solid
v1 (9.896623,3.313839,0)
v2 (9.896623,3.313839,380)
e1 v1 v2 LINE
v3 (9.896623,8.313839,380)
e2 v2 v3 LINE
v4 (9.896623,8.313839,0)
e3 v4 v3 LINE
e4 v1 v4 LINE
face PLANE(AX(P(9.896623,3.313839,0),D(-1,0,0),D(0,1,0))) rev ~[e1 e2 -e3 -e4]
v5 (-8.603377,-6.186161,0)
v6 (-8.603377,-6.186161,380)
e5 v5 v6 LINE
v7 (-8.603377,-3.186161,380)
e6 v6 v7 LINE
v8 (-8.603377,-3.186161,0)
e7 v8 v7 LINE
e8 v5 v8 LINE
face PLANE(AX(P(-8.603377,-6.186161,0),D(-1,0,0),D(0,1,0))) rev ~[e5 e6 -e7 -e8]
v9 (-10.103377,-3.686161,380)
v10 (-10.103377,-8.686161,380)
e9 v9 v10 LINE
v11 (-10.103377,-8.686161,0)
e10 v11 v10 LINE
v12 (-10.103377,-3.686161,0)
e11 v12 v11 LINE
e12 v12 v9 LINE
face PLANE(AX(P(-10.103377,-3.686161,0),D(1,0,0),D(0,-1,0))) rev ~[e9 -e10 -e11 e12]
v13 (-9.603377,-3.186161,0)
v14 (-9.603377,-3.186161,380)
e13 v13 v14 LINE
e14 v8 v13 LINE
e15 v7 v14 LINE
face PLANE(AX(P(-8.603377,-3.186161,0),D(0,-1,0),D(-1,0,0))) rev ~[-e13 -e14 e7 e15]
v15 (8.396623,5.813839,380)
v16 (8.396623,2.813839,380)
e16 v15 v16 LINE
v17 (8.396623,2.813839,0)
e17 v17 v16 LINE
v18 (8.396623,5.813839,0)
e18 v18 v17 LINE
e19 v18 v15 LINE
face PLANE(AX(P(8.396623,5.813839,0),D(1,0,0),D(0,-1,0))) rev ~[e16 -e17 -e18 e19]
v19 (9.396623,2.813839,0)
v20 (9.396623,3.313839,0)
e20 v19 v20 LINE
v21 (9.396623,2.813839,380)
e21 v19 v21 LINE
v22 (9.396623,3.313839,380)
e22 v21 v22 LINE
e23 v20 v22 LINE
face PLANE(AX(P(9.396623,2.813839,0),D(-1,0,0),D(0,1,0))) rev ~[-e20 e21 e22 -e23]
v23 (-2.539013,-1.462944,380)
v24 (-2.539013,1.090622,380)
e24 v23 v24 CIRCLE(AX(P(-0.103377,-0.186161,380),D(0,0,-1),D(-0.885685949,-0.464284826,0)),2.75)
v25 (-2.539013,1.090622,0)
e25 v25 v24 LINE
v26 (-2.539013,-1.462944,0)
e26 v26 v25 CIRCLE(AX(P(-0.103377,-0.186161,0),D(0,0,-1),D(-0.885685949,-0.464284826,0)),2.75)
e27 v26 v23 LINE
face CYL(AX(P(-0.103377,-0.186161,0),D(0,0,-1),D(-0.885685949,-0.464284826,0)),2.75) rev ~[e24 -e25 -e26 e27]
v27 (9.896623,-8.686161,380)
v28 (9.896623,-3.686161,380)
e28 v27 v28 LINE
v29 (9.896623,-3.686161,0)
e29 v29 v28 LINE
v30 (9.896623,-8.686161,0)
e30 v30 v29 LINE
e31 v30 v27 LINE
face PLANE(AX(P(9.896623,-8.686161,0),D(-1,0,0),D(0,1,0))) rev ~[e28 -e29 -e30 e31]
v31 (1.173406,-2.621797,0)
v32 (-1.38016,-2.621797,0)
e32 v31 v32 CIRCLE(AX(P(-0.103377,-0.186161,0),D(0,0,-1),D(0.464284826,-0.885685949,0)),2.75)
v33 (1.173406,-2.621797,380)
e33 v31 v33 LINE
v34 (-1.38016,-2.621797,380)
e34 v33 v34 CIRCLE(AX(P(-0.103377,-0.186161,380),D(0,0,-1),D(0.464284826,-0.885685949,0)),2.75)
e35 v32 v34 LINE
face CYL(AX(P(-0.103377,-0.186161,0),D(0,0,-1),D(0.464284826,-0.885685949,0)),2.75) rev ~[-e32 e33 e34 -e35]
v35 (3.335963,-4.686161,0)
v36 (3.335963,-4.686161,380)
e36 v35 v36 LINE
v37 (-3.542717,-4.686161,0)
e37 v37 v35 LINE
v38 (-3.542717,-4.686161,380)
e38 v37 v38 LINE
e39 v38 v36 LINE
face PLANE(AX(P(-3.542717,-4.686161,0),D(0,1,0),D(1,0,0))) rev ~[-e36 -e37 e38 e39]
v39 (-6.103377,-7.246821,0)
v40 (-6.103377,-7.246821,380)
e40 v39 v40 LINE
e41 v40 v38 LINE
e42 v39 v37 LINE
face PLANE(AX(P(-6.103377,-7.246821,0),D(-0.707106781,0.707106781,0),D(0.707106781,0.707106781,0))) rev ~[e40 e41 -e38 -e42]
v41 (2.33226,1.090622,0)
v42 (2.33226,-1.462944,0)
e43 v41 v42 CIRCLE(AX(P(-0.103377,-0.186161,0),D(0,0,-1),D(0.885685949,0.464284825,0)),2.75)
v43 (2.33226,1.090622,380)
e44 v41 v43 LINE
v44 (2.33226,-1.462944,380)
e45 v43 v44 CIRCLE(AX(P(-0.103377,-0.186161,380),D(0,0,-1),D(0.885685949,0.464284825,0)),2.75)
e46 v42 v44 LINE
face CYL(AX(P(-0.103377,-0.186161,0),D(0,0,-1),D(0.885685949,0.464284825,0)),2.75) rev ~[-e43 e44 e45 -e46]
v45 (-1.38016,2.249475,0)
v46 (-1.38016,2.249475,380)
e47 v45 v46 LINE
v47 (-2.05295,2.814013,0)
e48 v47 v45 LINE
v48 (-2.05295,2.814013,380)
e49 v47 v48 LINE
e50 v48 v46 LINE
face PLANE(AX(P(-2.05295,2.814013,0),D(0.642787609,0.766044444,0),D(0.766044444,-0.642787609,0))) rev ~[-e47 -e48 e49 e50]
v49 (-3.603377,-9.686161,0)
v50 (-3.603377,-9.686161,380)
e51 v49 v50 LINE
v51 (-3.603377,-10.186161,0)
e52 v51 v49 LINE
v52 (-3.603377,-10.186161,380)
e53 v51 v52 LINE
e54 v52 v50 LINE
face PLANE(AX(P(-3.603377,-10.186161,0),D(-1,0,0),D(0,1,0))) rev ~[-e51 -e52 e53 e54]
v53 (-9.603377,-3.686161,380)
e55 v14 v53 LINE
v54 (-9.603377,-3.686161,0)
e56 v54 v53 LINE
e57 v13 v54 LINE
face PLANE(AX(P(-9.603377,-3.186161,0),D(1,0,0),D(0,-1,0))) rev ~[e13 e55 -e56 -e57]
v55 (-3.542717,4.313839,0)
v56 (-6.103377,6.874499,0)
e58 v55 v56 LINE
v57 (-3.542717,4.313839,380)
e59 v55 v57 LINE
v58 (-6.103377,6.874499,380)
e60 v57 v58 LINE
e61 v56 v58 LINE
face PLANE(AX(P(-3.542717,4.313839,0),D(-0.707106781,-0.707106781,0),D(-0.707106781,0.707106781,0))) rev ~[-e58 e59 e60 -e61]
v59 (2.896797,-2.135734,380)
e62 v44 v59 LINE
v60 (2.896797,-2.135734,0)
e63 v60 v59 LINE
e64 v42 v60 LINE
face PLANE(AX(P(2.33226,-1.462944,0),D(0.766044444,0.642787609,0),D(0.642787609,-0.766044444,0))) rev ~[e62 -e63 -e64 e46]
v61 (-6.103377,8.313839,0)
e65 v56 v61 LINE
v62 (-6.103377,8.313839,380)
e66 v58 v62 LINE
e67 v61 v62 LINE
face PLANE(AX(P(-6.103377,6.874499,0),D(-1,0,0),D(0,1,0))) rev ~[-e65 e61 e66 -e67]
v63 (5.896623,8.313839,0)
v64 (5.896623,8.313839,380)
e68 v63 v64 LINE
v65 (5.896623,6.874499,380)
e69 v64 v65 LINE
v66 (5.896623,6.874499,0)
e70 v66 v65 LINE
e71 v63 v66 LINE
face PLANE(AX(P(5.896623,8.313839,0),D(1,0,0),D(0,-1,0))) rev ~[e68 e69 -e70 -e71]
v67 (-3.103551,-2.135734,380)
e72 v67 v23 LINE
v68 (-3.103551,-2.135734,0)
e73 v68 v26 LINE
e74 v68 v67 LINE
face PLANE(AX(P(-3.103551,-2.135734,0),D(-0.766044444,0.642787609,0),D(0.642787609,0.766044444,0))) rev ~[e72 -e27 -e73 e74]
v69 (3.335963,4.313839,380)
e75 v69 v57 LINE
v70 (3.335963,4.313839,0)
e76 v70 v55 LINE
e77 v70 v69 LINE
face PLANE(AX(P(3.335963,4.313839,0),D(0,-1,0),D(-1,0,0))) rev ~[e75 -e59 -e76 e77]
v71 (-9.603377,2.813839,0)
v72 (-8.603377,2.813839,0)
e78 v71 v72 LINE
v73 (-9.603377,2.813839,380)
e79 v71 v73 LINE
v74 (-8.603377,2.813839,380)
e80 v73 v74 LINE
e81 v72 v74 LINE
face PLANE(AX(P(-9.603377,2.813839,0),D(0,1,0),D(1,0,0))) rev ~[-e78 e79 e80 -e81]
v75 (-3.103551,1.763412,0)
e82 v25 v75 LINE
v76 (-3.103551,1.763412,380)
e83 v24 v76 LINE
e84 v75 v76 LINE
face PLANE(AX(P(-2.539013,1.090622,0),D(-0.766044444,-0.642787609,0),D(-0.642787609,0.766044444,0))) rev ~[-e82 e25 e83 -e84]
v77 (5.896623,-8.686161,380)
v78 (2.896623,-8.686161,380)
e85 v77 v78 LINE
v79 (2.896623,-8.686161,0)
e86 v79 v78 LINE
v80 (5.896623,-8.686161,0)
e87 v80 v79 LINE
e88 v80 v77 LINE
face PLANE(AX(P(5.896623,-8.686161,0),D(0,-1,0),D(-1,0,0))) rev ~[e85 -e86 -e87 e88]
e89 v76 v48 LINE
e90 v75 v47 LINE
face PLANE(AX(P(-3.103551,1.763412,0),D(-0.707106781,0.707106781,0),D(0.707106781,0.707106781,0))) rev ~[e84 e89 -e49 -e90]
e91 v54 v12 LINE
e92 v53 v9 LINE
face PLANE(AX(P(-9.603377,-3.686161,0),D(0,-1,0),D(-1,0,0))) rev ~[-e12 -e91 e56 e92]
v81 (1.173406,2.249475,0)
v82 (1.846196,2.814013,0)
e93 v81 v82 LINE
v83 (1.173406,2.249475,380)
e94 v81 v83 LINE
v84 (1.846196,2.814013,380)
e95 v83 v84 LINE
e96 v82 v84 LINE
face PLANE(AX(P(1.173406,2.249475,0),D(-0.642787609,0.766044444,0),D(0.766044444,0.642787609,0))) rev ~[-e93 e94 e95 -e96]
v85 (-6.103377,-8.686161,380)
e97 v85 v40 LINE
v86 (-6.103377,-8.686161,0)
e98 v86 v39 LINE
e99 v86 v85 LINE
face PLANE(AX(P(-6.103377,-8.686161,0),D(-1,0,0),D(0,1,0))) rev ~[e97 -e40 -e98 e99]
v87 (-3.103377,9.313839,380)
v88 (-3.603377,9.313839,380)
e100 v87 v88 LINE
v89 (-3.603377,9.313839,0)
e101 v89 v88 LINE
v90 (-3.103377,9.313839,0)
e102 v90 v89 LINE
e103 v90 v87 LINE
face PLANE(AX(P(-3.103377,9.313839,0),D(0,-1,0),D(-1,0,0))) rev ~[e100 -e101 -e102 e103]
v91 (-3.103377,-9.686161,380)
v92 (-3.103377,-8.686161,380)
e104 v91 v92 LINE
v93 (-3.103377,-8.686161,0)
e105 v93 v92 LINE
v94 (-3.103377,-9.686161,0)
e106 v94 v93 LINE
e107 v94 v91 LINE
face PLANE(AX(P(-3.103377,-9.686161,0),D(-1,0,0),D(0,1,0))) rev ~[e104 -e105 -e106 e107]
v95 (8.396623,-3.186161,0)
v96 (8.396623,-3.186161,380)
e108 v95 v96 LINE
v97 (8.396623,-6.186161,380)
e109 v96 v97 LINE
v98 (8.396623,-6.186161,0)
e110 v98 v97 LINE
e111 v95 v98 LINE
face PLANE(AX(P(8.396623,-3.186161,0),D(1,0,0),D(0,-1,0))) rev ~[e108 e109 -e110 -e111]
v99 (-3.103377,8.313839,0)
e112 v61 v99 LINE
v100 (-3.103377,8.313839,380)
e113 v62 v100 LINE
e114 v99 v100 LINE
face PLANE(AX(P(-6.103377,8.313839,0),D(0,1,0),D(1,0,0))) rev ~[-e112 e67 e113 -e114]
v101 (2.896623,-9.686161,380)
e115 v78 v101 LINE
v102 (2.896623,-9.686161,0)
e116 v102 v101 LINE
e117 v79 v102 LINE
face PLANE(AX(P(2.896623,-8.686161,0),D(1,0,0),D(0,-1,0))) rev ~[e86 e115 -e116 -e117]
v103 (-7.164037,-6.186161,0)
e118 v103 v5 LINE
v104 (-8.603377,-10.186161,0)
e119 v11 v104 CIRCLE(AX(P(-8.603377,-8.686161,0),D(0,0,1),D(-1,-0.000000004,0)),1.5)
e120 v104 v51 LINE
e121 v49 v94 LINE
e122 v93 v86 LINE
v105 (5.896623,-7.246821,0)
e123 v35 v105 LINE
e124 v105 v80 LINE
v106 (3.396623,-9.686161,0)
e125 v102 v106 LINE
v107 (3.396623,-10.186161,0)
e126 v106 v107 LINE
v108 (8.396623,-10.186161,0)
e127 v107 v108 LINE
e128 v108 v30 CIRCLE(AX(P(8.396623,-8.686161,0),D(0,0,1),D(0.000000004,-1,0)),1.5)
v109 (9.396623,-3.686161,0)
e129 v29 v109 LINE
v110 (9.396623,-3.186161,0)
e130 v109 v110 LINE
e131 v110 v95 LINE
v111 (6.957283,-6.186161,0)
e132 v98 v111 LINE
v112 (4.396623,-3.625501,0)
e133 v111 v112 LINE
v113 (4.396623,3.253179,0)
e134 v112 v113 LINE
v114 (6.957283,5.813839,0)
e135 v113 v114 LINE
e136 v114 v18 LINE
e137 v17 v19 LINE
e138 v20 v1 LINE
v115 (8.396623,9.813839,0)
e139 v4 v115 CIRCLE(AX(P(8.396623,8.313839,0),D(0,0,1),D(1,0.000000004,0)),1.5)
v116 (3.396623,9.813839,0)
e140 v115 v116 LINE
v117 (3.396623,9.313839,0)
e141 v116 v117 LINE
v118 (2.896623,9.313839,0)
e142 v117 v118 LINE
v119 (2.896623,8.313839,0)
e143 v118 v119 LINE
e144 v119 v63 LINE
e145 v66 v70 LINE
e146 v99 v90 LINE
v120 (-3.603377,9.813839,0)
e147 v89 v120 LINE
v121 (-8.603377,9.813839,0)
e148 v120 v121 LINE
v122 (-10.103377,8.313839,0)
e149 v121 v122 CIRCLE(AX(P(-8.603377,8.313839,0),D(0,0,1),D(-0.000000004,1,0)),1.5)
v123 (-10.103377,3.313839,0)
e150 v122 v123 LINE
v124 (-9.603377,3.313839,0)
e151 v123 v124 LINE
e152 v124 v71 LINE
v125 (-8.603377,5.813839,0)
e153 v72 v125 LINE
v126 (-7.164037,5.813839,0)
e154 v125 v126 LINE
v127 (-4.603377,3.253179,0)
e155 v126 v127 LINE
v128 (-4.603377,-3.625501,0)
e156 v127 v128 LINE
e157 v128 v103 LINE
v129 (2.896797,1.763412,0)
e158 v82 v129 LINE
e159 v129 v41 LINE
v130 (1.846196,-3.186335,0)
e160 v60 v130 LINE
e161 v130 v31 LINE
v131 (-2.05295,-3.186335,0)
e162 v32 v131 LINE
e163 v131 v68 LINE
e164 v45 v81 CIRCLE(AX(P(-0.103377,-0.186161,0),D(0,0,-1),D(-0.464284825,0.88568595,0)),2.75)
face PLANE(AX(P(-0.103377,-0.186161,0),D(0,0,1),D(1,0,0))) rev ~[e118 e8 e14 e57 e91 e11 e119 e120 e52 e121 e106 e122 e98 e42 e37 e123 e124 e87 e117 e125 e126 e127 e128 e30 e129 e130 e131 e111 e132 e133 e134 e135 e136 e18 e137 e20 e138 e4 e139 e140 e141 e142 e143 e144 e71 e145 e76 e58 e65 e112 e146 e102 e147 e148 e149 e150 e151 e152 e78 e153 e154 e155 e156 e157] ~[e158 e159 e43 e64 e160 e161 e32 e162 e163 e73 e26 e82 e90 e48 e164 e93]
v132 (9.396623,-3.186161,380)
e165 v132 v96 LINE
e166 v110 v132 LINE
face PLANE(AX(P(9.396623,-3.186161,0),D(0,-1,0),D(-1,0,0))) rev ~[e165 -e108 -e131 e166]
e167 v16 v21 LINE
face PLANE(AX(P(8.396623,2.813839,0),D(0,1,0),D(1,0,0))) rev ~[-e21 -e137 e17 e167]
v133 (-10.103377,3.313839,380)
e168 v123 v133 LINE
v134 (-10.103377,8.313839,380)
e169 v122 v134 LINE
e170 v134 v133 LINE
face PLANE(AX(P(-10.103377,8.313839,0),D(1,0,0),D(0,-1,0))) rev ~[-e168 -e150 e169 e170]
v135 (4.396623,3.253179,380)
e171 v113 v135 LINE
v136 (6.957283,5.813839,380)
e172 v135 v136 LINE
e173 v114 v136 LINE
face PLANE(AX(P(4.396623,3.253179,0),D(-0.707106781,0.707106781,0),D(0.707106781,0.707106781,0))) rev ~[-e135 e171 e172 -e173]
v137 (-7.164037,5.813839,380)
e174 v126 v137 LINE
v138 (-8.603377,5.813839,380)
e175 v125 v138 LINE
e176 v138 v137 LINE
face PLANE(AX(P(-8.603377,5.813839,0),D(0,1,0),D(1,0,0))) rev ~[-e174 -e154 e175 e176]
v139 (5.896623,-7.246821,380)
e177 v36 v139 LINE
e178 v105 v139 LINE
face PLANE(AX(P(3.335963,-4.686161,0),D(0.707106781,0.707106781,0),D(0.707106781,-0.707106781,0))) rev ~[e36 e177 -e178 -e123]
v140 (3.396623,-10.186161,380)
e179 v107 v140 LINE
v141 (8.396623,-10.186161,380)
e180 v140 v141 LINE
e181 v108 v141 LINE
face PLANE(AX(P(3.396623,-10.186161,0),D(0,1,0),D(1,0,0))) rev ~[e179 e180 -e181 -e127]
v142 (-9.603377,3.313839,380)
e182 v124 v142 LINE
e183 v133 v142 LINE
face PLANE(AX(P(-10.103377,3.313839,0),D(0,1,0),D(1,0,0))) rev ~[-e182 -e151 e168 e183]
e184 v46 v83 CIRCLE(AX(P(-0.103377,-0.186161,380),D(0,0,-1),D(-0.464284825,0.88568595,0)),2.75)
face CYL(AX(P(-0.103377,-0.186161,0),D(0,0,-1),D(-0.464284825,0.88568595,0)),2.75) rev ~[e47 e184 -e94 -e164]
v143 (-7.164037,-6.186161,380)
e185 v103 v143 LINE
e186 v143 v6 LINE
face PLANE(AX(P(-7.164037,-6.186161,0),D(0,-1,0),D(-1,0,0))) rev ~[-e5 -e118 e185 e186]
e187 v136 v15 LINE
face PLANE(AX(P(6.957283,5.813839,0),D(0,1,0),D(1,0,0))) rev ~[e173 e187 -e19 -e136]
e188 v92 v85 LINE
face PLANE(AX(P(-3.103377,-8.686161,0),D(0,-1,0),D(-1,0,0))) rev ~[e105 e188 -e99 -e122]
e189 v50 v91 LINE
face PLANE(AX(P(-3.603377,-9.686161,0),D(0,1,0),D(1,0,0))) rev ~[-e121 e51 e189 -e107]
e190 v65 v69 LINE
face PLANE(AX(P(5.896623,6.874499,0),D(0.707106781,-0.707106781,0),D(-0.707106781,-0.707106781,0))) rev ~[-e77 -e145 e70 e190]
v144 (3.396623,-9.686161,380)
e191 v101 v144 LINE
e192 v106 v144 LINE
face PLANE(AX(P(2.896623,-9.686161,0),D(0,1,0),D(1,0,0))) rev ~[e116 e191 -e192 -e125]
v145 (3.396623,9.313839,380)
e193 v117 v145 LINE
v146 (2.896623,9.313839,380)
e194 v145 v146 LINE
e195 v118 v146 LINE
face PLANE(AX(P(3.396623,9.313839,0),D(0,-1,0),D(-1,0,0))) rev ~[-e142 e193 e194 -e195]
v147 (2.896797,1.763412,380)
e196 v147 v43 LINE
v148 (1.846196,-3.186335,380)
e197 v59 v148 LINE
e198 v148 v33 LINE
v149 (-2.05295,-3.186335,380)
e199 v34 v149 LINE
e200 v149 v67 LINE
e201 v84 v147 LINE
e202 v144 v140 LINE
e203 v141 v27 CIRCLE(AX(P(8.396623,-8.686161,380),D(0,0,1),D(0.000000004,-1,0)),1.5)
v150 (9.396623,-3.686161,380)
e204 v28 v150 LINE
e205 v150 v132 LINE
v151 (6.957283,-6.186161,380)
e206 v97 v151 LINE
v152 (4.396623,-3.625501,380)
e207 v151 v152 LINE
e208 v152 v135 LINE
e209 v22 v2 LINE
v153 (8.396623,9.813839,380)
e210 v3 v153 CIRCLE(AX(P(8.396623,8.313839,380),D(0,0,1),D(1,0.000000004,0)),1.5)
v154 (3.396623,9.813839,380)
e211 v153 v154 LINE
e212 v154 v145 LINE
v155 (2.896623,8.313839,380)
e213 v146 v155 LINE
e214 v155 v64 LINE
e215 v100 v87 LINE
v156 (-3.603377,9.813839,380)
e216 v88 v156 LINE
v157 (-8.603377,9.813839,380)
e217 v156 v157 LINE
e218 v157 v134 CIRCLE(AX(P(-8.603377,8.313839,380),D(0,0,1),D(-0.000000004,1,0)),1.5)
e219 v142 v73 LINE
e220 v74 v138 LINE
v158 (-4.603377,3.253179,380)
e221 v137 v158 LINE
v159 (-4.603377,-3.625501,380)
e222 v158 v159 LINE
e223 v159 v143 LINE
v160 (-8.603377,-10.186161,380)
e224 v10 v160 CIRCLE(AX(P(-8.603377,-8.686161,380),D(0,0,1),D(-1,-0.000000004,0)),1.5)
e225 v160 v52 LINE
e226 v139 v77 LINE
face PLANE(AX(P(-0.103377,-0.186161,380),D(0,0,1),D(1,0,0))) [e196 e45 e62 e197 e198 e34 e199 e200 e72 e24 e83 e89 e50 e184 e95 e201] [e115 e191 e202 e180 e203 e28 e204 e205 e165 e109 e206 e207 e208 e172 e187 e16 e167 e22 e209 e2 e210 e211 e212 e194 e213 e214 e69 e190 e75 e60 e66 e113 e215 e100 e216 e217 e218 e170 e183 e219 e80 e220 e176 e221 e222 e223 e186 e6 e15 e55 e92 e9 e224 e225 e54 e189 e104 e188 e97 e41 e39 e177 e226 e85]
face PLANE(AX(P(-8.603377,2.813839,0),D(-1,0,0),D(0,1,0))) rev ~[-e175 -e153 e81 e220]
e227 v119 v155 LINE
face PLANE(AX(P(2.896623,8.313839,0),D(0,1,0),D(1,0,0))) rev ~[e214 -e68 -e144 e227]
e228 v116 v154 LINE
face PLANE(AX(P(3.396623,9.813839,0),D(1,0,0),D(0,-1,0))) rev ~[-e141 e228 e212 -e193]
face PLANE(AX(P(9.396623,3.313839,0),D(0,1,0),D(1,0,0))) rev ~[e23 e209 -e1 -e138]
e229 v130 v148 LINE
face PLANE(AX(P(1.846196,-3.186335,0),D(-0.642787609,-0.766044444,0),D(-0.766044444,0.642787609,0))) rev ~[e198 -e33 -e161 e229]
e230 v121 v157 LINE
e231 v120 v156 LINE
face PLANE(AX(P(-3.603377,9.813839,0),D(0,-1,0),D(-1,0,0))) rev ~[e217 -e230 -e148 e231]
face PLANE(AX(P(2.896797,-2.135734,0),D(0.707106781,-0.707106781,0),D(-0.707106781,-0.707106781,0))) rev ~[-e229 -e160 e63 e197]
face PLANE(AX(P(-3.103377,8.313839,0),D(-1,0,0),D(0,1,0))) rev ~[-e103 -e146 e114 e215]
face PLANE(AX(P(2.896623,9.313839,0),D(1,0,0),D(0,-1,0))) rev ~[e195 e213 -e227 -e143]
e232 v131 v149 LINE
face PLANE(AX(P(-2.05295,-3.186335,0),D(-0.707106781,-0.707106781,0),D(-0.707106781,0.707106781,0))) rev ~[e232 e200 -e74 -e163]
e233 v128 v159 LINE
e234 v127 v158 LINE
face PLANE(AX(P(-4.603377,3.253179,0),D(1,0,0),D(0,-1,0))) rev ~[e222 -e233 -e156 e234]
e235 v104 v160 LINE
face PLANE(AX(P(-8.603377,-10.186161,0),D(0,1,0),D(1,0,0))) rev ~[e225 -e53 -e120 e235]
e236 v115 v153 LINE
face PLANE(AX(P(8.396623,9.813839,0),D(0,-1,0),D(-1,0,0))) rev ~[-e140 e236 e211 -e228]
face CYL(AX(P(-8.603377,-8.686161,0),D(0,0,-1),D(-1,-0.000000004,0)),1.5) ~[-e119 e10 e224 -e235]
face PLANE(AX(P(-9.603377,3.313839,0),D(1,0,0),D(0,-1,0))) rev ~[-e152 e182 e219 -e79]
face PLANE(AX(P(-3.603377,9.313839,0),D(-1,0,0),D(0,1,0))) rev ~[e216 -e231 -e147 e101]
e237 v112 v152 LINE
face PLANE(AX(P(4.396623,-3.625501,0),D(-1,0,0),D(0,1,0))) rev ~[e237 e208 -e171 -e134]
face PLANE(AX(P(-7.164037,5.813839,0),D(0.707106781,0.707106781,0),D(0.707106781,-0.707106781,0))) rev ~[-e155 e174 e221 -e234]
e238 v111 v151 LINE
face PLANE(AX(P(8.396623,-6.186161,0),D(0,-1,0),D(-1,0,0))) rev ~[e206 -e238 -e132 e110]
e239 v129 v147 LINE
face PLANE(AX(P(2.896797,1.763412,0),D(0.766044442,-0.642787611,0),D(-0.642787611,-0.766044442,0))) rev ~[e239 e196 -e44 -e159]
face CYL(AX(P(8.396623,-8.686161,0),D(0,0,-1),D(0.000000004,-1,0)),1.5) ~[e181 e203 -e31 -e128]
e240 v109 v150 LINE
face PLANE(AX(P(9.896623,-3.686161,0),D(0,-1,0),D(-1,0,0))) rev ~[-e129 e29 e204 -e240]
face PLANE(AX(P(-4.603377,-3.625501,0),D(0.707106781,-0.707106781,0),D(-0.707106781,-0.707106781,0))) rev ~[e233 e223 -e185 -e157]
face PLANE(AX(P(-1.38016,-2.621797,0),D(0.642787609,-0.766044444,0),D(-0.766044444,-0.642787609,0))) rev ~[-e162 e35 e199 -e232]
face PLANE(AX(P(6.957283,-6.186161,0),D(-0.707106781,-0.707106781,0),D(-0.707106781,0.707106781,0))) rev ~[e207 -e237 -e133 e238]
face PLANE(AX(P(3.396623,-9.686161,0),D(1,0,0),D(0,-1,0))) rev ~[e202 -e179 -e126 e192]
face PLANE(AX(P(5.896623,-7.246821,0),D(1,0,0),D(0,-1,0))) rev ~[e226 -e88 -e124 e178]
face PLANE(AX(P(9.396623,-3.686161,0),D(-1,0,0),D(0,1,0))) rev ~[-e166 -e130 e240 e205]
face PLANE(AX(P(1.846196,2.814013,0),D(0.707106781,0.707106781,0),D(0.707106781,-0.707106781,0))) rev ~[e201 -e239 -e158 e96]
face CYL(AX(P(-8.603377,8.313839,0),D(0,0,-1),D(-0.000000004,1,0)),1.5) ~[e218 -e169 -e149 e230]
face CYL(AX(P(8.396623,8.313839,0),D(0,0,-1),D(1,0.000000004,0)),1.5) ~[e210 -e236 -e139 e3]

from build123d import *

# Parameters (mm, degrees)
AUFSATZ_LINEAR_AUSTRAGEN1_DEPTH = 380


with BuildPart() as part:
    # Skizze1 → Aufsatz-Linear austragen1 (new body)
    with BuildSketch(Plane.XY):
        with BuildLine():
            Line((9.896623228, -8.686160957), (9.896623228, -3.686160957))
            Line((9.896623228, -3.686160957), (9.396623228, -3.686160957))
            Line((9.396623228, -3.686160957), (9.396623228, -3.186160957))
            Line((9.396623228, -3.186160957), (8.396623228, -3.186160957))
            Line((8.396623228, -3.186160957), (8.396623228, -6.186160957))
            Line((8.396623228, -6.186160957), (6.957283398, -6.186160957))
            Line((6.957283398, -6.186160957), (4.396623228, -3.625500787))
            Line((4.396623228, -3.625500787), (4.396623228, 3.253178873))
            Line((4.396623228, 3.253178873), (6.957283398, 5.813839043))
            Line((6.957283398, 5.813839043), (8.396623228, 5.813839043))
            Line((8.396623228, 5.813839043), (8.396623228, 2.813839043))
            Line((8.396623228, 2.813839043), (9.396623228, 2.813839043))
            Line((9.396623228, 2.813839043), (9.396623228, 3.313839043))
            Line((9.396623228, 3.313839043), (9.896623228, 3.313839043))
            Line((9.896623228, 3.313839043), (9.896623228, 8.313839043))
            ThreePointArc((9.896623228, 8.313839043), (9.457283398, 9.374499213), (8.396623228, 9.813839043))
            Line((8.396623228, 9.813839043), (3.396623228, 9.813839043))
            Line((3.396623228, 9.813839043), (3.396623228, 9.313839043))
            Line((3.396623228, 9.313839043), (2.896623228, 9.313839043))
            Line((2.896623228, 9.313839043), (2.896623228, 8.313839043))
            Line((2.896623228, 8.313839043), (5.896623228, 8.313839043))
            Line((5.896623228, 8.313839043), (5.896623228, 6.874499213))
            Line((5.896623228, 6.874499213), (3.335963058, 4.313839043))
            Line((3.335963058, 4.313839043), (-3.542716602, 4.313839043))
            Line((-3.542716602, 4.313839043), (-6.103376772, 6.874499213))
            Line((-6.103376772, 6.874499213), (-6.103376772, 8.313839043))
            Line((-6.103376772, 8.313839043), (-3.103376772, 8.313839043))
            Line((-3.103376772, 8.313839043), (-3.103376772, 9.313839043))
            Line((-3.103376772, 9.313839043), (-3.603376772, 9.313839043))
            Line((-3.603376772, 9.313839043), (-3.603376772, 9.813839043))
            Line((-3.603376772, 9.813839043), (-8.603376772, 9.813839043))
            ThreePointArc((-8.603376772, 9.813839043), (-9.664036942, 9.374499213), (-10.103376772, 8.313839043))
            Line((-10.103376772, 8.313839043), (-10.103376772, 3.313839043))
            Line((-10.103376772, 3.313839043), (-9.603376772, 3.313839043))
            Line((-9.603376772, 3.313839043), (-9.603376772, 2.813839043))
            Line((-9.603376772, 2.813839043), (-8.603376772, 2.813839043))
            Line((-8.603376772, 2.813839043), (-8.603376772, 5.813839043))
            Line((-8.603376772, 5.813839043), (-7.164036942, 5.813839043))
            Line((-7.164036942, 5.813839043), (-4.603376772, 3.253178873))
            Line((-4.603376772, 3.253178873), (-4.603376772, -3.625500787))
            Line((-4.603376772, -3.625500787), (-7.164036942, -6.186160957))
            Line((-7.164036942, -6.186160957), (-8.603376772, -6.186160957))
            Line((-8.603376772, -6.186160957), (-8.603376772, -3.186160957))
            Line((-8.603376772, -3.186160957), (-9.603376772, -3.186160957))
            Line((-9.603376772, -3.186160957), (-9.603376772, -3.686160957))
            Line((-9.603376772, -3.686160957), (-10.103376772, -3.686160957))
            Line((-10.103376772, -3.686160957), (-10.103376772, -8.686160957))
            ThreePointArc((-10.103376772, -8.686160957), (-9.664036942, -9.746821127), (-8.603376772, -10.186160957))
            Line((-8.603376772, -10.186160957), (-3.603376772, -10.186160957))
            Line((-3.603376772, -10.186160957), (-3.603376772, -9.686160957))
            Line((-3.603376772, -9.686160957), (-3.103376772, -9.686160957))
            Line((-3.103376772, -9.686160957), (-3.103376772, -8.686160957))
            Line((-3.103376772, -8.686160957), (-6.103376772, -8.686160957))
            Line((-6.103376772, -8.686160957), (-6.103376772, -7.246821127))
            Line((-6.103376772, -7.246821127), (-3.542716602, -4.686160957))
            Line((-3.542716602, -4.686160957), (3.335963058, -4.686160957))
            Line((3.335963058, -4.686160957), (5.896623228, -7.246821127))
            Line((5.896623228, -7.246821127), (5.896623228, -8.686160957))
            Line((5.896623228, -8.686160957), (2.896623228, -8.686160957))
            Line((2.896623228, -8.686160957), (2.896623228, -9.686160957))
            Line((2.896623228, -9.686160957), (3.396623228, -9.686160957))
            Line((3.396623228, -9.686160957), (3.396623228, -10.186160957))
            Line((3.396623228, -10.186160957), (8.396623228, -10.186160957))
            ThreePointArc((8.396623228, -10.186160957), (9.457283398, -9.746821127), (9.896623228, -8.686160957))
        make_face()
        with BuildLine():
            Line((-2.539013132, 1.090622313), (-3.103550972, 1.763412313))
            Line((-3.103550972, 1.763412313), (-2.052950042, 2.814013243))
            Line((-2.052950042, 2.814013243), (-1.380160042, 2.249475403))
            ThreePointArc((-1.380160042, 2.249475403), (-0.103376772, 2.563839041), (1.173406498, 2.249475399))
            Line((1.173406498, 2.249475399), (1.846196498, 2.814013239))
            Line((1.846196498, 2.814013239), (2.896797428, 1.763412309))
            Line((2.896797428, 1.763412309), (2.332259586, 1.09062231))
            ThreePointArc((2.332259586, 1.09062231), (2.646623225, -0.186160958), (2.332259587, -1.462944226))
            Line((2.332259587, -1.462944226), (2.896797427, -2.135734226))
            Line((2.896797427, -2.135734226), (1.846196497, -3.186335156))
            Line((1.846196497, -3.186335156), (1.173406497, -2.621797316))
            ThreePointArc((1.173406497, -2.621797316), (-0.103376773, -2.936160957), (-1.380160043, -2.62179732))
            Line((-1.380160043, -2.62179732), (-2.052950043, -3.18633516))
            Line((-2.052950043, -3.18633516), (-3.103550973, -2.13573423))
            Line((-3.103550973, -2.13573423), (-2.539013133, -1.46294423))
            ThreePointArc((-2.539013133, -1.46294423), (-2.853376773, -0.186160958), (-2.539013132, 1.090622313))
        make_face(mode=Mode.SUBTRACT)
    extrude(amount=AUFSATZ_LINEAR_AUSTRAGEN1_DEPTH)


solid = part.part
